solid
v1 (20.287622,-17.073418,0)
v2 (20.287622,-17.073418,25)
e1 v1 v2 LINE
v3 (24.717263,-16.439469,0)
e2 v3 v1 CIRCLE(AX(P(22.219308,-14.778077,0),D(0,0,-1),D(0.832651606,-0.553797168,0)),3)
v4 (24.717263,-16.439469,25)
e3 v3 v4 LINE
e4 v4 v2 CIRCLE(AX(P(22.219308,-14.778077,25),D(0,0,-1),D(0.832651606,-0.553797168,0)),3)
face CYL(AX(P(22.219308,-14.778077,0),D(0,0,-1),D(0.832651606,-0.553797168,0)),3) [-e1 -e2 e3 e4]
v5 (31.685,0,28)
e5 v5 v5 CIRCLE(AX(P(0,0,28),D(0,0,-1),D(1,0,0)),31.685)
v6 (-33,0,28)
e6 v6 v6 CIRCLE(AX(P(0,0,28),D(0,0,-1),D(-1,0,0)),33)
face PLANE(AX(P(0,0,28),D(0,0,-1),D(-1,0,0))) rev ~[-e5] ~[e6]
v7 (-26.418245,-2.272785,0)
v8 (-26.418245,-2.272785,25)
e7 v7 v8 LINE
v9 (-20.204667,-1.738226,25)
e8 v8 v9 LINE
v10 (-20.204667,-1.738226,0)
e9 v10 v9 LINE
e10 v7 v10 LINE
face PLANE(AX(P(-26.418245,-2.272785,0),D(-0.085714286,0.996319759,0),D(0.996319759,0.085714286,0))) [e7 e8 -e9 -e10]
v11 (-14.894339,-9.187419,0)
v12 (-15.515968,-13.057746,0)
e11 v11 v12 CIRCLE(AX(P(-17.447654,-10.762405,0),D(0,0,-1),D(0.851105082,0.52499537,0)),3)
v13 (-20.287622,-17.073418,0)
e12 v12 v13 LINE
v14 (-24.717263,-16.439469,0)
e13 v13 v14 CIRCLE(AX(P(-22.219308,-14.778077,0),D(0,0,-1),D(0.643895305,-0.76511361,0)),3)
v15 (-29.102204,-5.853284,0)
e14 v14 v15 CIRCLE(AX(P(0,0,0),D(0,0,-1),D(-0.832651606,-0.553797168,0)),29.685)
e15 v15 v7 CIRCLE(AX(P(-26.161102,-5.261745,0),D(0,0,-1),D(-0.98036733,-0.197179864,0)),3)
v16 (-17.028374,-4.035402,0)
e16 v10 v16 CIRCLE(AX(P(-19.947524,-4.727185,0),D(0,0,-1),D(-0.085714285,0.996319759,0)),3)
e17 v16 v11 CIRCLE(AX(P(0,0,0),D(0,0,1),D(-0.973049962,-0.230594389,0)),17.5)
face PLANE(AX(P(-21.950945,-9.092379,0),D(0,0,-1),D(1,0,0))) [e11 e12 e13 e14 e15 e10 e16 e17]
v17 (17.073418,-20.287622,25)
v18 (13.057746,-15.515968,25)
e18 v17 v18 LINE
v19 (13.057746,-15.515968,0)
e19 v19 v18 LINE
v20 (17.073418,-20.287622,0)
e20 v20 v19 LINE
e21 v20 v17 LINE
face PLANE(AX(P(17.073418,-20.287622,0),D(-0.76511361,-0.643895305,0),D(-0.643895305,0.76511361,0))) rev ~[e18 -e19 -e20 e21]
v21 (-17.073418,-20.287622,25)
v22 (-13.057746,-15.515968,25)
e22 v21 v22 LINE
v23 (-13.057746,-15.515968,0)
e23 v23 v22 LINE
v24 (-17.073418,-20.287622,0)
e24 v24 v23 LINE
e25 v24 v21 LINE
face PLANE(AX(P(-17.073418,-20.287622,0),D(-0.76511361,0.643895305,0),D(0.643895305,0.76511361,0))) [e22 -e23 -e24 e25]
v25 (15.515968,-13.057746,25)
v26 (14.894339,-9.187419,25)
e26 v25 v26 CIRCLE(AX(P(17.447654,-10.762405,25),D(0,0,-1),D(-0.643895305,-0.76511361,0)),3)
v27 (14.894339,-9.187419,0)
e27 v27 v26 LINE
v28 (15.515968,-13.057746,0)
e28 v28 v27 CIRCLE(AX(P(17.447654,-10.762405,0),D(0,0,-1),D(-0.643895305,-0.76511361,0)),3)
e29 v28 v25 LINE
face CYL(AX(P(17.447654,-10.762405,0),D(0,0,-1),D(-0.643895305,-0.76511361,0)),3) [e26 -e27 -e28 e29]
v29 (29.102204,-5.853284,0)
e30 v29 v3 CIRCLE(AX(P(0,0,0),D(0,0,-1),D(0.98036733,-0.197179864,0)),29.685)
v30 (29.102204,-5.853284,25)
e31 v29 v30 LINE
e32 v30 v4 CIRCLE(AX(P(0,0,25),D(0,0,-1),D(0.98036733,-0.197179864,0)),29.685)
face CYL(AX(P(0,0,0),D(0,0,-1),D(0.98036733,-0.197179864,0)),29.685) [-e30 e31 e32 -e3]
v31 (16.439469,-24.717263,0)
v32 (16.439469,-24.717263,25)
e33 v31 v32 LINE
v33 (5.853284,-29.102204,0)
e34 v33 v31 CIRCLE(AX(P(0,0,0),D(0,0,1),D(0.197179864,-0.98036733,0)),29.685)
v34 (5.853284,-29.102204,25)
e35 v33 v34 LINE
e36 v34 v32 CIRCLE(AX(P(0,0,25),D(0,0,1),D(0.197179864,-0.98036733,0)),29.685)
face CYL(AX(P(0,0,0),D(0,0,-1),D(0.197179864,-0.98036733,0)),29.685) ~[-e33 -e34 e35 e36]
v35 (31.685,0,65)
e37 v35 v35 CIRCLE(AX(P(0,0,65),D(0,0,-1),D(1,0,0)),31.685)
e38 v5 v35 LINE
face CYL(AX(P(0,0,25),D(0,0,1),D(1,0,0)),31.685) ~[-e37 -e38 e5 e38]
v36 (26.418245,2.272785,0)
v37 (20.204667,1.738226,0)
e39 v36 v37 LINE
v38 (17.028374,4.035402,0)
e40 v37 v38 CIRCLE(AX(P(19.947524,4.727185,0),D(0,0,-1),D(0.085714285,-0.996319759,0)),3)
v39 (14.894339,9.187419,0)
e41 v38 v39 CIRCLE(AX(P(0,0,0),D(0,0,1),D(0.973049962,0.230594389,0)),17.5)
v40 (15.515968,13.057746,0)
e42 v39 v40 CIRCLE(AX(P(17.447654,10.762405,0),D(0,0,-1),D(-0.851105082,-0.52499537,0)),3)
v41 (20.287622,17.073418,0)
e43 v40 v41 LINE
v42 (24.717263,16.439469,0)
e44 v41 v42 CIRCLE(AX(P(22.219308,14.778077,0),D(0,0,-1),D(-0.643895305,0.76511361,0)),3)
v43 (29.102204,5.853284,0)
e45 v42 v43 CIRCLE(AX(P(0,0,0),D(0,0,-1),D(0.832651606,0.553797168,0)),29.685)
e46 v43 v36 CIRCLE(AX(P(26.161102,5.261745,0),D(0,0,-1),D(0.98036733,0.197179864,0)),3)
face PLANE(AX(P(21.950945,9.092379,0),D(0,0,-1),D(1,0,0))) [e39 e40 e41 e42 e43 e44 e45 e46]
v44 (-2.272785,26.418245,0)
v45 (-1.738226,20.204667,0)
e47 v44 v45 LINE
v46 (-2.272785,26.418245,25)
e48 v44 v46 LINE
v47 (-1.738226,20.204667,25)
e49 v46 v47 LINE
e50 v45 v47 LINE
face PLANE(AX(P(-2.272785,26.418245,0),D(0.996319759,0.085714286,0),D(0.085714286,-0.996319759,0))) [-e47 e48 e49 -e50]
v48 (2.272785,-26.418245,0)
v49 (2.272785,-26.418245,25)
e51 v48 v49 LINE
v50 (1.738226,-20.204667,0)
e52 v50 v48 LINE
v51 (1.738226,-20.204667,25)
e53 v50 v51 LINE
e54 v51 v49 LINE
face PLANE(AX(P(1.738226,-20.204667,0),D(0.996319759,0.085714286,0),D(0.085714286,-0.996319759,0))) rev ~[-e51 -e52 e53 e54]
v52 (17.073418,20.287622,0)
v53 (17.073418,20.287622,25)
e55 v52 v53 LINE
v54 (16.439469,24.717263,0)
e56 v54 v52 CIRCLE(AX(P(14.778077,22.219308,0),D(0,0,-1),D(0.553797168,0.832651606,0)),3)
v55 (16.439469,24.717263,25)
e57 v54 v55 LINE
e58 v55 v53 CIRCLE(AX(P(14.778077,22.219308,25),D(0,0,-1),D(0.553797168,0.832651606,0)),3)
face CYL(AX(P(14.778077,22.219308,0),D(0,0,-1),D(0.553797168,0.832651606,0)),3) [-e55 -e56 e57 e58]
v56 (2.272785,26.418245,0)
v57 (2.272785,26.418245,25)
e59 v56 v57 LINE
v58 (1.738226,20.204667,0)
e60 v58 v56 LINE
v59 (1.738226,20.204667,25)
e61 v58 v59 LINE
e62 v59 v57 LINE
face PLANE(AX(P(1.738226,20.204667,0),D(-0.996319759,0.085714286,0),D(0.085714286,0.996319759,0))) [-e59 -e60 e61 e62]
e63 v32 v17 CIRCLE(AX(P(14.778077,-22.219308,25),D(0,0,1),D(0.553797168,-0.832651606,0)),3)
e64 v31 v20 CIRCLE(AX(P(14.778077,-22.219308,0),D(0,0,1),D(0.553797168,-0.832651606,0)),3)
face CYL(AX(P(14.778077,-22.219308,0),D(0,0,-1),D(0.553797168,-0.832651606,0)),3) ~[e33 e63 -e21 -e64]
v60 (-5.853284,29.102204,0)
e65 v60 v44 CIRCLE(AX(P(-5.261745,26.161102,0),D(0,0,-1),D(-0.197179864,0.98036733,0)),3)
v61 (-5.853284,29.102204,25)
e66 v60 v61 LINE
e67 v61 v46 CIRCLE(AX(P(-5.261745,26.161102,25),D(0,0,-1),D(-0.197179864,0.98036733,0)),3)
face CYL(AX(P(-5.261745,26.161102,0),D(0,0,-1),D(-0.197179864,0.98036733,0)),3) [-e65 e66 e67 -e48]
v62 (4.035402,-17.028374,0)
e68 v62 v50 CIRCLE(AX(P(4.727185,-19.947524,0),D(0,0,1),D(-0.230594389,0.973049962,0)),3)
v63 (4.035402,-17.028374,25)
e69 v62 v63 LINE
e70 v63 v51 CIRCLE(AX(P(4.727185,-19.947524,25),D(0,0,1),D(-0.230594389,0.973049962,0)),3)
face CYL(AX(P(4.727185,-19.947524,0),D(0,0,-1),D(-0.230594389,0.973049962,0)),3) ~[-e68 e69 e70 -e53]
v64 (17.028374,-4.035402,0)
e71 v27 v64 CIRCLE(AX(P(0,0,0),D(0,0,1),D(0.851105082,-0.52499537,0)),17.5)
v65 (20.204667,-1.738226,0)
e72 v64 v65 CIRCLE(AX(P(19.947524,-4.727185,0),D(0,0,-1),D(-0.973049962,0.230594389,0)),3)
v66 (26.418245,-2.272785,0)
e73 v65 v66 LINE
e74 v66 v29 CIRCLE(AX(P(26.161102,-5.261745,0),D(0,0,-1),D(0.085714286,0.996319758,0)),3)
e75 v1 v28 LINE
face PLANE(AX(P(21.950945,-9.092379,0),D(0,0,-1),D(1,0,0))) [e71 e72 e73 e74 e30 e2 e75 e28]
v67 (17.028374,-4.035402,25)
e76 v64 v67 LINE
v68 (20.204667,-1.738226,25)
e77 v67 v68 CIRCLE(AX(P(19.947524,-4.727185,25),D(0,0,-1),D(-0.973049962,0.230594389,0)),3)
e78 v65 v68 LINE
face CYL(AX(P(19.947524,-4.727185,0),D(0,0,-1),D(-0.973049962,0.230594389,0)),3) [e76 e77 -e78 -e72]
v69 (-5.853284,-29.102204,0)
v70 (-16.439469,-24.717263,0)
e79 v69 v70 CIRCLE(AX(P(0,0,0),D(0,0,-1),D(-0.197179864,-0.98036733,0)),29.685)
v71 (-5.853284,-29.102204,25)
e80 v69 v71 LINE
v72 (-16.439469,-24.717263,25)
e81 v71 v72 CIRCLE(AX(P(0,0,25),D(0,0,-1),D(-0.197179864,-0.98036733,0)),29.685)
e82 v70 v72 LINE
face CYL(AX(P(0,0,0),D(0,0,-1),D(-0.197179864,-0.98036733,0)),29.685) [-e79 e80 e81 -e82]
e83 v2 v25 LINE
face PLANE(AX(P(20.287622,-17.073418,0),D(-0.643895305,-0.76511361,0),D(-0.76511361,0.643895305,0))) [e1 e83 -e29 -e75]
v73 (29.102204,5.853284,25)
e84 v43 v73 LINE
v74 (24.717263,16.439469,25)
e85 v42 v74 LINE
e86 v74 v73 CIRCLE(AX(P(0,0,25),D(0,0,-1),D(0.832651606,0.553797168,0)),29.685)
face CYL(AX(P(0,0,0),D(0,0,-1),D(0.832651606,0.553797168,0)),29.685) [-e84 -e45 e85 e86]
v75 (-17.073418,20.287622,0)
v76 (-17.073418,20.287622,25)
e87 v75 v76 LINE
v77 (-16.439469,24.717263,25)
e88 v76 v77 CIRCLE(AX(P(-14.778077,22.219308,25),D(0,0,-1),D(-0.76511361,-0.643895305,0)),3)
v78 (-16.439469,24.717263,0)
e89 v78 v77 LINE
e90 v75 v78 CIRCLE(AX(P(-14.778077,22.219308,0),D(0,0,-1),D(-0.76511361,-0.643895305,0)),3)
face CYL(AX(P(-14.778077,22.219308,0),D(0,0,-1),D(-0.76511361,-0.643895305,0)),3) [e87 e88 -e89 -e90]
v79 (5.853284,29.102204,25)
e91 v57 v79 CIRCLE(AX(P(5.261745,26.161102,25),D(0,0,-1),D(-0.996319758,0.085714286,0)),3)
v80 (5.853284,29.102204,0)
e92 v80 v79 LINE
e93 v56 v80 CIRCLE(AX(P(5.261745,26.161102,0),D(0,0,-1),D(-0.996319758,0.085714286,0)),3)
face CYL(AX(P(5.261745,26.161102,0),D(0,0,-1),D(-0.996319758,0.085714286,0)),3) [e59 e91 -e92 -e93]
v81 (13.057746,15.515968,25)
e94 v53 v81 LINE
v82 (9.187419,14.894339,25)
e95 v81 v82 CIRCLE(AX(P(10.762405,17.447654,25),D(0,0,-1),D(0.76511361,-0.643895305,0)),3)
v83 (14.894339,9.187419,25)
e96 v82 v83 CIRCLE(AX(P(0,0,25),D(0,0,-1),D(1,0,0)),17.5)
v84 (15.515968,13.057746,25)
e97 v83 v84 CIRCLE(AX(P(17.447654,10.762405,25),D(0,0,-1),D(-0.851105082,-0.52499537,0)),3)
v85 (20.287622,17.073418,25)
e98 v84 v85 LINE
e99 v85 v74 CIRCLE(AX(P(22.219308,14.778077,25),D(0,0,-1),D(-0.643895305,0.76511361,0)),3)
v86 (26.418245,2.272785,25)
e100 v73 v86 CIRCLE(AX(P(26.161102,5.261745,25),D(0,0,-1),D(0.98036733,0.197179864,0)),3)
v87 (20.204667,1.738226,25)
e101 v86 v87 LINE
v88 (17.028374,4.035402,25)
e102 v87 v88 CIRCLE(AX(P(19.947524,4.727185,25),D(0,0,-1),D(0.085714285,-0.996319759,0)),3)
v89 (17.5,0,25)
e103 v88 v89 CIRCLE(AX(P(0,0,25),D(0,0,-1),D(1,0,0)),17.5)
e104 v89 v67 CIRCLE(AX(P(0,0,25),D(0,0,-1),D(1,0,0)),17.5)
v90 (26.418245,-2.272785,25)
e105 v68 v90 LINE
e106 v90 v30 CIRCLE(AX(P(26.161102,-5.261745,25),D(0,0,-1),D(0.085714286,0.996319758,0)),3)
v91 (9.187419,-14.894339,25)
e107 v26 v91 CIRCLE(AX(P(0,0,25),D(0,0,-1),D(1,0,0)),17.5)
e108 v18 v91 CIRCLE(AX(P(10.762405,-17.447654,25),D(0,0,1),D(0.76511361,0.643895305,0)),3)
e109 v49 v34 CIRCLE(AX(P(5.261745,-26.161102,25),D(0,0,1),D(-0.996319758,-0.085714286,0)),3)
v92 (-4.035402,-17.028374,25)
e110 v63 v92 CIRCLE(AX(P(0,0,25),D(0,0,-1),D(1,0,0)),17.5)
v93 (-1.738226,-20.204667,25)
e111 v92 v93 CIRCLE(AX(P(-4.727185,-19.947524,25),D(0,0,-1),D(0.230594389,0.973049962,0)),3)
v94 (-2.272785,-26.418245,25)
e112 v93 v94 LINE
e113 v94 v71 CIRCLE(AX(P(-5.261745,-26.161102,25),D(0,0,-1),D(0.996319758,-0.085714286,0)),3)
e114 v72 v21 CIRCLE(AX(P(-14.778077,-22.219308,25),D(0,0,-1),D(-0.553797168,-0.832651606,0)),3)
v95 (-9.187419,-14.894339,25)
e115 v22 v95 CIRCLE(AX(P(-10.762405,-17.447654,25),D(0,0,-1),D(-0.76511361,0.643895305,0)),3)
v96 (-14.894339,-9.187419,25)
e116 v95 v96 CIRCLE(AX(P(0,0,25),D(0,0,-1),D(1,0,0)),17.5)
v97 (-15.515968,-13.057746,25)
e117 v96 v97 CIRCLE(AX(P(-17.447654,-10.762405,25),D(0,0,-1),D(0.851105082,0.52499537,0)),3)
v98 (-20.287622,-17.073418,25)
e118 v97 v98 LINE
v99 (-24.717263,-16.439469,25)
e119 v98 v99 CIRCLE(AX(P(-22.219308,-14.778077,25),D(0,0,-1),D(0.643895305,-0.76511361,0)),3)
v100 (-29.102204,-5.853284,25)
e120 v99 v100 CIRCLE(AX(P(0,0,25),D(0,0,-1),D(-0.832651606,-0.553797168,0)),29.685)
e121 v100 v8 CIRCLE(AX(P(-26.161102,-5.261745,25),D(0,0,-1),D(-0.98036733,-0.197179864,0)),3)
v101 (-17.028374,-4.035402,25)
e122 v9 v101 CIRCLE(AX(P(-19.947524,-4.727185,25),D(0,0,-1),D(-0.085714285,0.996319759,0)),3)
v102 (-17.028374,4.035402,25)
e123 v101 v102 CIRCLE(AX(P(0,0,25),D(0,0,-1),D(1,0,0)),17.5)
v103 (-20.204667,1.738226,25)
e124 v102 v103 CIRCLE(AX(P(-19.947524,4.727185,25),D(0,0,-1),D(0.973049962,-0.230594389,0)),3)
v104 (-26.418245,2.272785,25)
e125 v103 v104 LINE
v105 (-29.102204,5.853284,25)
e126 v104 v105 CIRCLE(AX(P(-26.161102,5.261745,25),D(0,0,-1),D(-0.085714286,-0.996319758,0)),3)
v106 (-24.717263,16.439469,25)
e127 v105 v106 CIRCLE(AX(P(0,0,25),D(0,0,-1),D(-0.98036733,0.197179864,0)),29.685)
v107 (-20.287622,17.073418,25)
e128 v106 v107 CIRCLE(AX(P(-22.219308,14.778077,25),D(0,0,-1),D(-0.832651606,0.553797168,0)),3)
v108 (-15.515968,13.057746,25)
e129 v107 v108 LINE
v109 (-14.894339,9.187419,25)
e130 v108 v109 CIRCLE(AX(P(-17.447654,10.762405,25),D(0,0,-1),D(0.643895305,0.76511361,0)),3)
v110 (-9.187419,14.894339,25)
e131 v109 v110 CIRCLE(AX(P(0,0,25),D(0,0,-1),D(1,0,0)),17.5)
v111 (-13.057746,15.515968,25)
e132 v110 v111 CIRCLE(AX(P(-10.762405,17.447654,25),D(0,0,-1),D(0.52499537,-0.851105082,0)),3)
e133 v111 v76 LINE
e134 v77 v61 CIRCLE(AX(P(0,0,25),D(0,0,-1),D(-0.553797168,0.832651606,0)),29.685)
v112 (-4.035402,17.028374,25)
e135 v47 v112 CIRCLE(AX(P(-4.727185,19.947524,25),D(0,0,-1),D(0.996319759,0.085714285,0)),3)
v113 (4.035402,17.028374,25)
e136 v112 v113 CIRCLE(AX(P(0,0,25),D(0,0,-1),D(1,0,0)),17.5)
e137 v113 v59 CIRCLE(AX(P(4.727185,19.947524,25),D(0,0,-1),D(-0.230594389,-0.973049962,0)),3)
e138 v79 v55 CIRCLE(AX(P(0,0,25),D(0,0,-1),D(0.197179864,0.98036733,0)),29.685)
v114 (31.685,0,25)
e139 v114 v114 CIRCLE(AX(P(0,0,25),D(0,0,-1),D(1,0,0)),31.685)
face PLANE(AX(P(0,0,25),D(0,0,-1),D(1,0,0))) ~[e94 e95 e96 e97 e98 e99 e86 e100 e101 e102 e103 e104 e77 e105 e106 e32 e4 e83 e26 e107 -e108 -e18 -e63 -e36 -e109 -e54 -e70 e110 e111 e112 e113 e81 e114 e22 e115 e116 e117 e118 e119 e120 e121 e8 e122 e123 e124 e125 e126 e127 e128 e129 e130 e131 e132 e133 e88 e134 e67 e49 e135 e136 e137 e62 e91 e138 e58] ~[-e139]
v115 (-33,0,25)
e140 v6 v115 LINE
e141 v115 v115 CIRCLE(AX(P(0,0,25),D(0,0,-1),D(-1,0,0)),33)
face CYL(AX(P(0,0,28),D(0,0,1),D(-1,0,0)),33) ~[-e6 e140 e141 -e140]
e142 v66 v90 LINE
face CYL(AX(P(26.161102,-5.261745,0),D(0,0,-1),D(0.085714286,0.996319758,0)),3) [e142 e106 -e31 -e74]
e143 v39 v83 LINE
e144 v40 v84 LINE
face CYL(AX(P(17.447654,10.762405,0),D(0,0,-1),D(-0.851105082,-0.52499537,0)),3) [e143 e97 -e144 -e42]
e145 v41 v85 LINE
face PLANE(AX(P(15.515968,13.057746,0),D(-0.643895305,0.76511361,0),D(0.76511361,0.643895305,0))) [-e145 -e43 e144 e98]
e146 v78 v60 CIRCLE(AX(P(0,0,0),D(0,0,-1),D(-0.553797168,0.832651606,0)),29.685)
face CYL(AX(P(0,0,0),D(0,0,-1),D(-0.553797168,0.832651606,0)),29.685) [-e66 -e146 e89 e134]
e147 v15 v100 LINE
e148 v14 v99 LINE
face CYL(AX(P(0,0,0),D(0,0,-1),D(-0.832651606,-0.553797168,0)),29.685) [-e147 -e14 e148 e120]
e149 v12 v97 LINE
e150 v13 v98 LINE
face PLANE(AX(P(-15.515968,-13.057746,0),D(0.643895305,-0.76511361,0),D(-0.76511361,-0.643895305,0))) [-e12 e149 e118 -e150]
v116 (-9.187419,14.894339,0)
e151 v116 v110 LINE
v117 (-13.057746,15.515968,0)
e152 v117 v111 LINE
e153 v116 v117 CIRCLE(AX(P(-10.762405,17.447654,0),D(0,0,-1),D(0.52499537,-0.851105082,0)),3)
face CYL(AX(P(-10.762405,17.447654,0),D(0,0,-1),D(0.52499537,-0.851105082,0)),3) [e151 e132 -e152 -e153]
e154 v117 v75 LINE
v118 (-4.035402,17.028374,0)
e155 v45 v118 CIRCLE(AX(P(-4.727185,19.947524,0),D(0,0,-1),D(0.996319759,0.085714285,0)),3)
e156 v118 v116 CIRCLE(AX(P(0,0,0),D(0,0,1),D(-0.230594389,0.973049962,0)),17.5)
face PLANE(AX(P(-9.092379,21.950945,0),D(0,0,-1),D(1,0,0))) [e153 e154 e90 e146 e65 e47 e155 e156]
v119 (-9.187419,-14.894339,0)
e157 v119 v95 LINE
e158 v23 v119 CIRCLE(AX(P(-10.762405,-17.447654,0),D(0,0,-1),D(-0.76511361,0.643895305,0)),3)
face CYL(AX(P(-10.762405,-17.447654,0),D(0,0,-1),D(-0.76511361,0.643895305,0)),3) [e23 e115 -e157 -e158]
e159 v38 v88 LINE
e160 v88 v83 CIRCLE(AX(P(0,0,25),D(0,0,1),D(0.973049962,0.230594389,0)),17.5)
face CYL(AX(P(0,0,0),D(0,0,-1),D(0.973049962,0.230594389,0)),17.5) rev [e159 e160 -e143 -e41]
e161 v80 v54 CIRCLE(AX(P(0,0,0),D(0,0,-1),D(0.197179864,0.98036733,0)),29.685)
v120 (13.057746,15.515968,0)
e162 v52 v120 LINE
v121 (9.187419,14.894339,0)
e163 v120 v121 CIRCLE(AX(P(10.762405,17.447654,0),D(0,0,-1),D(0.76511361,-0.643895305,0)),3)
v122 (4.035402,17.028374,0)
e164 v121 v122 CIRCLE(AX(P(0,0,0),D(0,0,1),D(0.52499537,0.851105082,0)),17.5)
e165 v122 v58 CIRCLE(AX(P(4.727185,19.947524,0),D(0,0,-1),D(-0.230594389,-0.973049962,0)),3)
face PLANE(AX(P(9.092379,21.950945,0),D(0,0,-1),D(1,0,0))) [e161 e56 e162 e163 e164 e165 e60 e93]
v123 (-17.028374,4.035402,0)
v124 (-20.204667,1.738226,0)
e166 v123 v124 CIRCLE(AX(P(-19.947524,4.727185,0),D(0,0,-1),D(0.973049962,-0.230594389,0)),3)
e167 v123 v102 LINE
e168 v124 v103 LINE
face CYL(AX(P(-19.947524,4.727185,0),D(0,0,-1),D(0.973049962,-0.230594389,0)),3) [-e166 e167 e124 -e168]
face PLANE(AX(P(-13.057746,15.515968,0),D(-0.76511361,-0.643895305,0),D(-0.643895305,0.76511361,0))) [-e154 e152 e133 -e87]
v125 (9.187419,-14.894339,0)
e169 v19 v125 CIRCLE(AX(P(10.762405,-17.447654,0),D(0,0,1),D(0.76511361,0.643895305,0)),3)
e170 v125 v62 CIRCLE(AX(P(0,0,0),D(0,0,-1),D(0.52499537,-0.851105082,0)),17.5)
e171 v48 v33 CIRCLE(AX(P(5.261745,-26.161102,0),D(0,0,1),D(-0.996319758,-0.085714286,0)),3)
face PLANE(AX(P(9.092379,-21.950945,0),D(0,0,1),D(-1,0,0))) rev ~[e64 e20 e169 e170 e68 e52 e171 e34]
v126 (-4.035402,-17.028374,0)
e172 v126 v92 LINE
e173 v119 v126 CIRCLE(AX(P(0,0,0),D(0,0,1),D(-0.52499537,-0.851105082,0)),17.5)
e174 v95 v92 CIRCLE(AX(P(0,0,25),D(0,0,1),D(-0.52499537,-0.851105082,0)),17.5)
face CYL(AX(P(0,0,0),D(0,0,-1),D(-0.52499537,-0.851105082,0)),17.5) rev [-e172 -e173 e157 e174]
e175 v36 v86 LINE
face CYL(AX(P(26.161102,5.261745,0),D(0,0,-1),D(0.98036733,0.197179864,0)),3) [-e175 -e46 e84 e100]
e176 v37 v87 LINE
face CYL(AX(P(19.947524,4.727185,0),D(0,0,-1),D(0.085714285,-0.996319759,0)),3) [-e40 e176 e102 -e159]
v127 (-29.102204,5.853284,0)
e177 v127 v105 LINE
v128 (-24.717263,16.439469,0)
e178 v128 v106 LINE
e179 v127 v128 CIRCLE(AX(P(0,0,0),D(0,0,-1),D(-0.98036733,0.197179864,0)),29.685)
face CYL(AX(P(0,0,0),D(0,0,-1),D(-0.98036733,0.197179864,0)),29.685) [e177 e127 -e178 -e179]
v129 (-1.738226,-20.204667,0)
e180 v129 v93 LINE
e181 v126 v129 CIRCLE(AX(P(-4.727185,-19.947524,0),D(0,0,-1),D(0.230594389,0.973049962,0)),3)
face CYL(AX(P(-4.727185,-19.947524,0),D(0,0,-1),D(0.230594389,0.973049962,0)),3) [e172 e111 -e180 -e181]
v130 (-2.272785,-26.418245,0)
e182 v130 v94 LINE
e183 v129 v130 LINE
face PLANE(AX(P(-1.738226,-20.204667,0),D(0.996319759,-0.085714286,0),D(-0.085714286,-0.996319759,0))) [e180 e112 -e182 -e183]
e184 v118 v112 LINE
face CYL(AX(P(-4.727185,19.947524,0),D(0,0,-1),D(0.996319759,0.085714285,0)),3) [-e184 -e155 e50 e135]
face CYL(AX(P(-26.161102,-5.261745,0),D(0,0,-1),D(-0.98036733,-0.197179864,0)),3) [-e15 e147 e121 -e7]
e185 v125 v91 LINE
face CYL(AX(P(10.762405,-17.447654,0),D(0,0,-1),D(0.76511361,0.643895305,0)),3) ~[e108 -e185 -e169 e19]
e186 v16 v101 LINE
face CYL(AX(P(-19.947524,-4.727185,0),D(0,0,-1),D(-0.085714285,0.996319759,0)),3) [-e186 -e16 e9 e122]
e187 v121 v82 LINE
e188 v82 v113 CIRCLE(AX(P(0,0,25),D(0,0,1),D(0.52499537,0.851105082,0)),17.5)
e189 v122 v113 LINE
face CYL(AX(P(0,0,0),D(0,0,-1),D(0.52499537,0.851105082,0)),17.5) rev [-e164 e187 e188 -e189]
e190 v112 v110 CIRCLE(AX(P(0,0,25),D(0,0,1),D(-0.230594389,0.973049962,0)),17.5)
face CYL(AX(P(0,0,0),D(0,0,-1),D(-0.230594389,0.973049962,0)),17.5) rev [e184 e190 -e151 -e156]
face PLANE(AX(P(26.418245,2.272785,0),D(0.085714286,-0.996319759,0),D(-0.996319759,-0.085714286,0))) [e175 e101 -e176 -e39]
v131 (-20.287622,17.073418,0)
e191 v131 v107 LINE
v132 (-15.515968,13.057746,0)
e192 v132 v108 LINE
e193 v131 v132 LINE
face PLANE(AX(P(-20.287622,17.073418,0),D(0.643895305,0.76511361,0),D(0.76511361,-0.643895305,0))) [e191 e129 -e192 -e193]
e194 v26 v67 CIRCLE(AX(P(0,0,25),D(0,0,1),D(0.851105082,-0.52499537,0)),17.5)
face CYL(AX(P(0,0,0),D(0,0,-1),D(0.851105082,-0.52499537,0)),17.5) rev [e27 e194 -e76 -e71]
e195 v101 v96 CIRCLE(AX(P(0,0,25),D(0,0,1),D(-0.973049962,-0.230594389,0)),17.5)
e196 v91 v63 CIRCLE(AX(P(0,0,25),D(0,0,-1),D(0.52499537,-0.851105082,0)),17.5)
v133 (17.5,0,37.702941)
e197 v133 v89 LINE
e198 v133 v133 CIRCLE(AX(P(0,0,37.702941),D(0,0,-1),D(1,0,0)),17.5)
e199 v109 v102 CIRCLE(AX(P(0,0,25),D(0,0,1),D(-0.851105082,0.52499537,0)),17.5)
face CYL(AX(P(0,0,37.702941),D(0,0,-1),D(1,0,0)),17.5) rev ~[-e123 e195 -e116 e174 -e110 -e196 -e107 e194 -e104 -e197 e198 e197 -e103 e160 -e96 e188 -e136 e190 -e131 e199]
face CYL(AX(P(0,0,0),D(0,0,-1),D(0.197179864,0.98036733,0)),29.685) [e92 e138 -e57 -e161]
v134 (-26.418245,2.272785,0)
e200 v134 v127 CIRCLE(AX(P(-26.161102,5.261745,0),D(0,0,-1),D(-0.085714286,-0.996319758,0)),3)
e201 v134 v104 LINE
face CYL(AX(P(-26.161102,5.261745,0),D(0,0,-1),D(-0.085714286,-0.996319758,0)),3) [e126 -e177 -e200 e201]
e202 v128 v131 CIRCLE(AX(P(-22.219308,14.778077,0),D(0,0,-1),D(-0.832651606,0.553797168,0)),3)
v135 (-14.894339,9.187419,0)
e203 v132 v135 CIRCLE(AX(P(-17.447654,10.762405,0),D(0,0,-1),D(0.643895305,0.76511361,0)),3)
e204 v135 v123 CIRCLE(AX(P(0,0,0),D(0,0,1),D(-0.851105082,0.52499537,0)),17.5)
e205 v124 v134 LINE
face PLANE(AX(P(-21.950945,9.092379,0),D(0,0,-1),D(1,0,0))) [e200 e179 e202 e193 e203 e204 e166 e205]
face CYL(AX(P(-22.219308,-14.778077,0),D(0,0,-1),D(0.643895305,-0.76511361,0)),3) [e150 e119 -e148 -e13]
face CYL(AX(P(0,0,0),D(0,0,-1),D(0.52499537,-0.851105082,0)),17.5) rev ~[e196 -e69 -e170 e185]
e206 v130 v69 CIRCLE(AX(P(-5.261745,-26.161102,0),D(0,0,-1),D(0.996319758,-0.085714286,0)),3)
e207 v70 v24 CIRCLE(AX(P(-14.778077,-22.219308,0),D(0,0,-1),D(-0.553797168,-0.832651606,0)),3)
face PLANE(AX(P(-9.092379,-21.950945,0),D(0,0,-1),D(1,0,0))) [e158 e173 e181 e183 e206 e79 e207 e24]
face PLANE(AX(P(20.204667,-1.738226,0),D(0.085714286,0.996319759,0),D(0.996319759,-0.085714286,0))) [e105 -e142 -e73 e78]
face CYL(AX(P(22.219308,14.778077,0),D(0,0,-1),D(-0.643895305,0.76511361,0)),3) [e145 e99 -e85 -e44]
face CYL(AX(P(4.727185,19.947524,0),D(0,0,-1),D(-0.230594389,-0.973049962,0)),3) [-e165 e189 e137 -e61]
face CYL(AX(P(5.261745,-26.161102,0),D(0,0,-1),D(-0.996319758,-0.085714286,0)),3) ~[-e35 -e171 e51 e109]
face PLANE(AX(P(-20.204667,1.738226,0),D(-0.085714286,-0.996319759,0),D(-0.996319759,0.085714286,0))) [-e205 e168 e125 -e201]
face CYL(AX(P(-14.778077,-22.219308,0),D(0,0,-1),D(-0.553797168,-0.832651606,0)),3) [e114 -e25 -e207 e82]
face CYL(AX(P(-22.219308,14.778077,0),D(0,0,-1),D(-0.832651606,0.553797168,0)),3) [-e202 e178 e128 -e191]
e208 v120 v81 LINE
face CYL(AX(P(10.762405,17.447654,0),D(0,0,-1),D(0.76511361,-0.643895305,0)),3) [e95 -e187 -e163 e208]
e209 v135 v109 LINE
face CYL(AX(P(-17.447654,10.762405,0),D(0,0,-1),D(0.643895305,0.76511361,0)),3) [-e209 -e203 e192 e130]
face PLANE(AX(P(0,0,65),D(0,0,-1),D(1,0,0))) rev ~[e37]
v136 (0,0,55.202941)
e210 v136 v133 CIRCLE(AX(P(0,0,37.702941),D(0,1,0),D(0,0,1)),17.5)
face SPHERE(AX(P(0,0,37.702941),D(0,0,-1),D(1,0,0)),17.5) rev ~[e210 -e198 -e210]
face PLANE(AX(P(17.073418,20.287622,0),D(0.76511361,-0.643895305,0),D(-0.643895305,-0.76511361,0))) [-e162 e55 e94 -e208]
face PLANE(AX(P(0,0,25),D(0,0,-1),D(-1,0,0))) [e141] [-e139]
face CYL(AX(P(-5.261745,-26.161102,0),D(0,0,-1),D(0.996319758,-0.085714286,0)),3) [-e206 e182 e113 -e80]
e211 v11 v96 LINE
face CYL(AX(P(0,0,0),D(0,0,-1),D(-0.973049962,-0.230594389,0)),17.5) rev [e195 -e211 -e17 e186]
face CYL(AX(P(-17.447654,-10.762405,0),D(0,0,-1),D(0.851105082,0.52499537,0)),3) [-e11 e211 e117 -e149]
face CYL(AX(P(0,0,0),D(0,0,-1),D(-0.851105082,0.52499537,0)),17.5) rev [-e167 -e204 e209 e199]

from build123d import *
from build123d.topology import SkipClean

# Parameters (mm, degrees)
BOSS_EXTRUDE1_DEPTH   = 25
BOSS_EXTRUDE1_2_DEPTH = 25
BOSS_EXTRUDE1_3_DEPTH = 25
BOSS_EXTRUDE1_4_DEPTH = 25
BOSS_EXTRUDE1_5_DEPTH = 25
BOSS_EXTRUDE1_6_DEPTH = 25
BOSS_EXTRUDE1_7_DEPTH = 25
BOSS_EXTRUDE1_8_DEPTH = 25
BOSS_EXTRUDE2_START   = -3
SKETCH6_R             = 33
SKETCH6_R_2           = 31.685
BOSS_EXTRUDE2_DEPTH   = 3


with BuildPart() as part:
    # Sketch1 → Boss-Extrude1 (new body)
    with BuildSketch(Plane(origin=(0, 0, 0), x_dir=(-1, 0, 0), z_dir=(0, 0, 1))):
        with BuildLine():
            Line((-1.738225696, 20.20466707), (-2.272785403, 26.41824505))
            ThreePointArc((-2.272785403, 26.41824505), (-3.462351882, 28.561557475), (-5.853284272, 29.102204182))
            ThreePointArc((-5.853284272, 29.102204182), (-11.35995769, 27.425363923), (-16.439468924, 24.717262925))
            ThreePointArc((-16.439468924, 24.717262925), (-17.747818477, 22.644323466), (-17.073418251, 20.287622193))
            Line((-17.073418251, 20.287622193), (-13.05774592, 15.515968274))
            ThreePointArc((-13.05774592, 15.515968274), (-11.238150281, 14.485616628), (-9.187418979, 14.894338942))
            ThreePointArc((-9.187418979, 14.894338942), (-6.696960066, 16.167891819), (-4.035401805, 17.028374328))
            ThreePointArc((-4.035401805, 17.028374328), (-2.296305475, 18.189450019), (-1.738225696, 20.20466707))
        make_face()
    extrude(amount=BOSS_EXTRUDE1_DEPTH)



with BuildPart() as body_2:
    # Sketch1 → Boss-Extrude1 2 (new body)
    with BuildSketch(Plane(origin=(0, 0, 0), x_dir=(-1, 0, 0), z_dir=(0, 0, 1))):
        with BuildLine():
            Line((1.738225696, 20.20466707), (2.272785403, 26.41824505))
            ThreePointArc((2.272785403, 26.41824505), (3.462351882, 28.561557475), (5.853284272, 29.102204182))
            ThreePointArc((5.853284272, 29.102204182), (11.35995769, 27.425363923), (16.439468924, 24.717262925))
            ThreePointArc((16.439468924, 24.717262925), (17.747818477, 22.644323466), (17.073418251, 20.287622193))
            Line((17.073418251, 20.287622193), (13.05774592, 15.515968274))
            ThreePointArc((13.05774592, 15.515968274), (11.238150281, 14.485616628), (9.187418979, 14.894338942))
            ThreePointArc((9.187418979, 14.894338942), (6.696960066, 16.167891819), (4.035401805, 17.028374328))
            ThreePointArc((4.035401805, 17.028374328), (2.296305475, 18.189450019), (1.738225696, 20.20466707))
        make_face()
    extrude(amount=BOSS_EXTRUDE1_2_DEPTH)


with BuildPart() as body_3:
    # Sketch1 → Boss-Extrude1 3 (new body)
    with BuildSketch(Plane(origin=(0, 0, 0), x_dir=(-1, 0, 0), z_dir=(0, 0, 1))):
        with BuildLine():
            Line((15.515968274, 13.05774592), (20.287622193, 17.073418251))
            ThreePointArc((20.287622193, 17.073418251), (22.644323466, 17.747818477), (24.717262925, 16.439468924))
            ThreePointArc((24.717262925, 16.439468924), (27.425363923, 11.35995769), (29.102204182, 5.853284272))
            ThreePointArc((29.102204182, 5.853284272), (28.561557475, 3.462351882), (26.41824505, 2.272785403))
            Line((26.41824505, 2.272785403), (20.20466707, 1.738225696))
            ThreePointArc((20.20466707, 1.738225696), (18.189450019, 2.296305475), (17.028374328, 4.035401805))
            ThreePointArc((17.028374328, 4.035401805), (16.167891819, 6.696960066), (14.894338942, 9.187418979))
            ThreePointArc((14.894338942, 9.187418979), (14.485616628, 11.238150281), (15.515968274, 13.05774592))
        make_face()
    extrude(amount=BOSS_EXTRUDE1_3_DEPTH)


with BuildPart() as body_4:
    # Sketch1 → Boss-Extrude1 4 (new body)
    with BuildSketch(Plane(origin=(0, 0, 0), x_dir=(-1, 0, 0), z_dir=(0, 0, 1))):
        with BuildLine():
            Line((20.20466707, -1.738225696), (26.41824505, -2.272785403))
            ThreePointArc((26.41824505, -2.272785403), (28.561557475, -3.462351882), (29.102204182, -5.853284272))
            ThreePointArc((29.102204182, -5.853284272), (27.425363923, -11.35995769), (24.717262925, -16.439468924))
            ThreePointArc((24.717262925, -16.439468924), (22.644323466, -17.747818477), (20.287622193, -17.073418251))
            Line((20.287622193, -17.073418251), (15.515968274, -13.05774592))
            ThreePointArc((15.515968274, -13.05774592), (14.485616628, -11.238150281), (14.894338942, -9.187418979))
            ThreePointArc((14.894338942, -9.187418979), (16.167891819, -6.696960066), (17.028374328, -4.035401805))
            ThreePointArc((17.028374328, -4.035401805), (18.189450019, -2.296305475), (20.20466707, -1.738225696))
        make_face()
    extrude(amount=BOSS_EXTRUDE1_4_DEPTH)


with BuildPart() as body_5:
    # Sketch1 → Boss-Extrude1 5 (new body)
    with BuildSketch(Plane(origin=(0, 0, 0), x_dir=(-1, 0, 0), z_dir=(0, 0, 1))):
        with BuildLine():
            Line((13.05774592, -15.515968274), (17.073418251, -20.287622193))
            ThreePointArc((17.073418251, -20.287622193), (17.747818477, -22.644323466), (16.439468924, -24.717262925))
            ThreePointArc((16.439468924, -24.717262925), (11.35995769, -27.425363923), (5.853284272, -29.102204182))
            ThreePointArc((5.853284272, -29.102204182), (3.462351882, -28.561557475), (2.272785403, -26.41824505))
            Line((2.272785403, -26.41824505), (1.738225696, -20.20466707))
            ThreePointArc((1.738225696, -20.20466707), (2.296305475, -18.189450019), (4.035401805, -17.028374328))
            ThreePointArc((4.035401805, -17.028374328), (6.696960066, -16.167891819), (9.187418979, -14.894338942))
            ThreePointArc((9.187418979, -14.894338942), (11.238150281, -14.485616628), (13.05774592, -15.515968274))
        make_face()
    extrude(amount=BOSS_EXTRUDE1_5_DEPTH)


with BuildPart() as body_6:
    # Sketch1 → Boss-Extrude1 6 (new body)
    with BuildSketch(Plane(origin=(0, 0, 0), x_dir=(-1, 0, 0), z_dir=(0, 0, 1))):
        with BuildLine():
            Line((-1.738225696, -20.20466707), (-2.272785403, -26.41824505))
            ThreePointArc((-2.272785403, -26.41824505), (-3.462351882, -28.561557475), (-5.853284272, -29.102204182))
            ThreePointArc((-5.853284272, -29.102204182), (-11.35995769, -27.425363923), (-16.439468924, -24.717262925))
            ThreePointArc((-16.439468924, -24.717262925), (-17.747818477, -22.644323466), (-17.073418251, -20.287622193))
            Line((-17.073418251, -20.287622193), (-13.05774592, -15.515968274))
            ThreePointArc((-13.05774592, -15.515968274), (-11.238150281, -14.485616628), (-9.187418979, -14.894338942))
            ThreePointArc((-9.187418979, -14.894338942), (-6.696960066, -16.167891819), (-4.035401805, -17.028374328))
            ThreePointArc((-4.035401805, -17.028374328), (-2.296305475, -18.189450019), (-1.738225696, -20.20466707))
        make_face()
    extrude(amount=BOSS_EXTRUDE1_6_DEPTH)


with BuildPart() as body_7:
    # Sketch1 → Boss-Extrude1 7 (new body)
    with BuildSketch(Plane(origin=(0, 0, 0), x_dir=(-1, 0, 0), z_dir=(0, 0, 1))):
        with BuildLine():
            Line((-15.515968274, -13.05774592), (-20.287622193, -17.073418251))
            ThreePointArc((-20.287622193, -17.073418251), (-22.644323466, -17.747818477), (-24.717262925, -16.439468924))
            ThreePointArc((-24.717262925, -16.439468924), (-27.425363923, -11.35995769), (-29.102204182, -5.853284272))
            ThreePointArc((-29.102204182, -5.853284272), (-28.561557475, -3.462351882), (-26.41824505, -2.272785403))
            Line((-26.41824505, -2.272785403), (-20.20466707, -1.738225696))
            ThreePointArc((-20.20466707, -1.738225696), (-18.189450019, -2.296305475), (-17.028374328, -4.035401805))
            ThreePointArc((-17.028374328, -4.035401805), (-16.167891819, -6.696960066), (-14.894338942, -9.187418979))
            ThreePointArc((-14.894338942, -9.187418979), (-14.485616628, -11.238150281), (-15.515968274, -13.05774592))
        make_face()
    extrude(amount=BOSS_EXTRUDE1_7_DEPTH)


with BuildPart() as body_8:
    # Sketch1 → Boss-Extrude1 8 (new body)
    with BuildSketch(Plane(origin=(0, 0, 0), x_dir=(-1, 0, 0), z_dir=(0, 0, 1))):
        with BuildLine():
            Line((-20.20466707, 1.738225696), (-26.41824505, 2.272785403))
            ThreePointArc((-26.41824505, 2.272785403), (-28.561557475, 3.462351882), (-29.102204182, 5.853284272))
            ThreePointArc((-29.102204182, 5.853284272), (-27.425363923, 11.35995769), (-24.717262925, 16.439468924))
            ThreePointArc((-24.717262925, 16.439468924), (-22.644323466, 17.747818477), (-20.287622193, 17.073418251))
            Line((-20.287622193, 17.073418251), (-15.515968274, 13.05774592))
            ThreePointArc((-15.515968274, 13.05774592), (-14.485616628, 11.238150281), (-14.894338942, 9.187418979))
            ThreePointArc((-14.894338942, 9.187418979), (-16.167891819, 6.696960066), (-17.028374328, 4.035401805))
            ThreePointArc((-17.028374328, 4.035401805), (-18.189450019, 2.296305475), (-20.20466707, 1.738225696))
        make_face()
    extrude(amount=BOSS_EXTRUDE1_8_DEPTH)


with BuildPart() as part_1:
    with SkipClean():  # the faces are left unmerged after this step: merging them gives an invalid solid
        add(part.part)

        add(body_2.part)  # Revolve1 merges body 2

        add(body_3.part)  # Revolve1 merges body 3

        add(body_4.part)  # Revolve1 merges body 4

        add(body_5.part)  # Revolve1 merges body 5

        add(body_6.part)  # Revolve1 merges body 6

        add(body_7.part)  # Revolve1 merges body 7

        add(body_8.part)  # Revolve1 merges body 8
        # Sketch5 → Revolve1 (revolve)
        with BuildSketch(Plane(origin=(0, 0, 0), x_dir=(1, 0, 0), z_dir=(0, 1, 0))):
            with BuildLine():
                Line((17.5, -25), (31.685, -25))
                Line((31.685, -25), (31.685, -65))
                Line((31.685, -65), (0, -65))
                Line((0, -65), (0, -55.202941459))
                ThreePointArc((0, -55.202941459), (12.374368671, -50.07731013), (17.5, -37.702941459))
                Line((17.5, -37.702941459), (17.5, -25))
            make_face()
        revolve(axis=Axis((0, 0, 65), (0, 0, -1)))

    # Sketch6 → Boss-Extrude2 (add)
    with SkipClean():  # the faces are left unmerged after this step: merging them gives an invalid solid
        with BuildSketch(Plane(origin=(0, 0, 25), x_dir=(-1, 0, 0), z_dir=(0, 0, -1)).offset(BOSS_EXTRUDE2_START)):
            Circle(SKETCH6_R)
            with Locations(Location((0, 0, 0), (0, 0, 180))):
                Circle(SKETCH6_R_2, mode=Mode.SUBTRACT)
        extrude(amount=BOSS_EXTRUDE2_DEPTH)


solid = part_1.part
